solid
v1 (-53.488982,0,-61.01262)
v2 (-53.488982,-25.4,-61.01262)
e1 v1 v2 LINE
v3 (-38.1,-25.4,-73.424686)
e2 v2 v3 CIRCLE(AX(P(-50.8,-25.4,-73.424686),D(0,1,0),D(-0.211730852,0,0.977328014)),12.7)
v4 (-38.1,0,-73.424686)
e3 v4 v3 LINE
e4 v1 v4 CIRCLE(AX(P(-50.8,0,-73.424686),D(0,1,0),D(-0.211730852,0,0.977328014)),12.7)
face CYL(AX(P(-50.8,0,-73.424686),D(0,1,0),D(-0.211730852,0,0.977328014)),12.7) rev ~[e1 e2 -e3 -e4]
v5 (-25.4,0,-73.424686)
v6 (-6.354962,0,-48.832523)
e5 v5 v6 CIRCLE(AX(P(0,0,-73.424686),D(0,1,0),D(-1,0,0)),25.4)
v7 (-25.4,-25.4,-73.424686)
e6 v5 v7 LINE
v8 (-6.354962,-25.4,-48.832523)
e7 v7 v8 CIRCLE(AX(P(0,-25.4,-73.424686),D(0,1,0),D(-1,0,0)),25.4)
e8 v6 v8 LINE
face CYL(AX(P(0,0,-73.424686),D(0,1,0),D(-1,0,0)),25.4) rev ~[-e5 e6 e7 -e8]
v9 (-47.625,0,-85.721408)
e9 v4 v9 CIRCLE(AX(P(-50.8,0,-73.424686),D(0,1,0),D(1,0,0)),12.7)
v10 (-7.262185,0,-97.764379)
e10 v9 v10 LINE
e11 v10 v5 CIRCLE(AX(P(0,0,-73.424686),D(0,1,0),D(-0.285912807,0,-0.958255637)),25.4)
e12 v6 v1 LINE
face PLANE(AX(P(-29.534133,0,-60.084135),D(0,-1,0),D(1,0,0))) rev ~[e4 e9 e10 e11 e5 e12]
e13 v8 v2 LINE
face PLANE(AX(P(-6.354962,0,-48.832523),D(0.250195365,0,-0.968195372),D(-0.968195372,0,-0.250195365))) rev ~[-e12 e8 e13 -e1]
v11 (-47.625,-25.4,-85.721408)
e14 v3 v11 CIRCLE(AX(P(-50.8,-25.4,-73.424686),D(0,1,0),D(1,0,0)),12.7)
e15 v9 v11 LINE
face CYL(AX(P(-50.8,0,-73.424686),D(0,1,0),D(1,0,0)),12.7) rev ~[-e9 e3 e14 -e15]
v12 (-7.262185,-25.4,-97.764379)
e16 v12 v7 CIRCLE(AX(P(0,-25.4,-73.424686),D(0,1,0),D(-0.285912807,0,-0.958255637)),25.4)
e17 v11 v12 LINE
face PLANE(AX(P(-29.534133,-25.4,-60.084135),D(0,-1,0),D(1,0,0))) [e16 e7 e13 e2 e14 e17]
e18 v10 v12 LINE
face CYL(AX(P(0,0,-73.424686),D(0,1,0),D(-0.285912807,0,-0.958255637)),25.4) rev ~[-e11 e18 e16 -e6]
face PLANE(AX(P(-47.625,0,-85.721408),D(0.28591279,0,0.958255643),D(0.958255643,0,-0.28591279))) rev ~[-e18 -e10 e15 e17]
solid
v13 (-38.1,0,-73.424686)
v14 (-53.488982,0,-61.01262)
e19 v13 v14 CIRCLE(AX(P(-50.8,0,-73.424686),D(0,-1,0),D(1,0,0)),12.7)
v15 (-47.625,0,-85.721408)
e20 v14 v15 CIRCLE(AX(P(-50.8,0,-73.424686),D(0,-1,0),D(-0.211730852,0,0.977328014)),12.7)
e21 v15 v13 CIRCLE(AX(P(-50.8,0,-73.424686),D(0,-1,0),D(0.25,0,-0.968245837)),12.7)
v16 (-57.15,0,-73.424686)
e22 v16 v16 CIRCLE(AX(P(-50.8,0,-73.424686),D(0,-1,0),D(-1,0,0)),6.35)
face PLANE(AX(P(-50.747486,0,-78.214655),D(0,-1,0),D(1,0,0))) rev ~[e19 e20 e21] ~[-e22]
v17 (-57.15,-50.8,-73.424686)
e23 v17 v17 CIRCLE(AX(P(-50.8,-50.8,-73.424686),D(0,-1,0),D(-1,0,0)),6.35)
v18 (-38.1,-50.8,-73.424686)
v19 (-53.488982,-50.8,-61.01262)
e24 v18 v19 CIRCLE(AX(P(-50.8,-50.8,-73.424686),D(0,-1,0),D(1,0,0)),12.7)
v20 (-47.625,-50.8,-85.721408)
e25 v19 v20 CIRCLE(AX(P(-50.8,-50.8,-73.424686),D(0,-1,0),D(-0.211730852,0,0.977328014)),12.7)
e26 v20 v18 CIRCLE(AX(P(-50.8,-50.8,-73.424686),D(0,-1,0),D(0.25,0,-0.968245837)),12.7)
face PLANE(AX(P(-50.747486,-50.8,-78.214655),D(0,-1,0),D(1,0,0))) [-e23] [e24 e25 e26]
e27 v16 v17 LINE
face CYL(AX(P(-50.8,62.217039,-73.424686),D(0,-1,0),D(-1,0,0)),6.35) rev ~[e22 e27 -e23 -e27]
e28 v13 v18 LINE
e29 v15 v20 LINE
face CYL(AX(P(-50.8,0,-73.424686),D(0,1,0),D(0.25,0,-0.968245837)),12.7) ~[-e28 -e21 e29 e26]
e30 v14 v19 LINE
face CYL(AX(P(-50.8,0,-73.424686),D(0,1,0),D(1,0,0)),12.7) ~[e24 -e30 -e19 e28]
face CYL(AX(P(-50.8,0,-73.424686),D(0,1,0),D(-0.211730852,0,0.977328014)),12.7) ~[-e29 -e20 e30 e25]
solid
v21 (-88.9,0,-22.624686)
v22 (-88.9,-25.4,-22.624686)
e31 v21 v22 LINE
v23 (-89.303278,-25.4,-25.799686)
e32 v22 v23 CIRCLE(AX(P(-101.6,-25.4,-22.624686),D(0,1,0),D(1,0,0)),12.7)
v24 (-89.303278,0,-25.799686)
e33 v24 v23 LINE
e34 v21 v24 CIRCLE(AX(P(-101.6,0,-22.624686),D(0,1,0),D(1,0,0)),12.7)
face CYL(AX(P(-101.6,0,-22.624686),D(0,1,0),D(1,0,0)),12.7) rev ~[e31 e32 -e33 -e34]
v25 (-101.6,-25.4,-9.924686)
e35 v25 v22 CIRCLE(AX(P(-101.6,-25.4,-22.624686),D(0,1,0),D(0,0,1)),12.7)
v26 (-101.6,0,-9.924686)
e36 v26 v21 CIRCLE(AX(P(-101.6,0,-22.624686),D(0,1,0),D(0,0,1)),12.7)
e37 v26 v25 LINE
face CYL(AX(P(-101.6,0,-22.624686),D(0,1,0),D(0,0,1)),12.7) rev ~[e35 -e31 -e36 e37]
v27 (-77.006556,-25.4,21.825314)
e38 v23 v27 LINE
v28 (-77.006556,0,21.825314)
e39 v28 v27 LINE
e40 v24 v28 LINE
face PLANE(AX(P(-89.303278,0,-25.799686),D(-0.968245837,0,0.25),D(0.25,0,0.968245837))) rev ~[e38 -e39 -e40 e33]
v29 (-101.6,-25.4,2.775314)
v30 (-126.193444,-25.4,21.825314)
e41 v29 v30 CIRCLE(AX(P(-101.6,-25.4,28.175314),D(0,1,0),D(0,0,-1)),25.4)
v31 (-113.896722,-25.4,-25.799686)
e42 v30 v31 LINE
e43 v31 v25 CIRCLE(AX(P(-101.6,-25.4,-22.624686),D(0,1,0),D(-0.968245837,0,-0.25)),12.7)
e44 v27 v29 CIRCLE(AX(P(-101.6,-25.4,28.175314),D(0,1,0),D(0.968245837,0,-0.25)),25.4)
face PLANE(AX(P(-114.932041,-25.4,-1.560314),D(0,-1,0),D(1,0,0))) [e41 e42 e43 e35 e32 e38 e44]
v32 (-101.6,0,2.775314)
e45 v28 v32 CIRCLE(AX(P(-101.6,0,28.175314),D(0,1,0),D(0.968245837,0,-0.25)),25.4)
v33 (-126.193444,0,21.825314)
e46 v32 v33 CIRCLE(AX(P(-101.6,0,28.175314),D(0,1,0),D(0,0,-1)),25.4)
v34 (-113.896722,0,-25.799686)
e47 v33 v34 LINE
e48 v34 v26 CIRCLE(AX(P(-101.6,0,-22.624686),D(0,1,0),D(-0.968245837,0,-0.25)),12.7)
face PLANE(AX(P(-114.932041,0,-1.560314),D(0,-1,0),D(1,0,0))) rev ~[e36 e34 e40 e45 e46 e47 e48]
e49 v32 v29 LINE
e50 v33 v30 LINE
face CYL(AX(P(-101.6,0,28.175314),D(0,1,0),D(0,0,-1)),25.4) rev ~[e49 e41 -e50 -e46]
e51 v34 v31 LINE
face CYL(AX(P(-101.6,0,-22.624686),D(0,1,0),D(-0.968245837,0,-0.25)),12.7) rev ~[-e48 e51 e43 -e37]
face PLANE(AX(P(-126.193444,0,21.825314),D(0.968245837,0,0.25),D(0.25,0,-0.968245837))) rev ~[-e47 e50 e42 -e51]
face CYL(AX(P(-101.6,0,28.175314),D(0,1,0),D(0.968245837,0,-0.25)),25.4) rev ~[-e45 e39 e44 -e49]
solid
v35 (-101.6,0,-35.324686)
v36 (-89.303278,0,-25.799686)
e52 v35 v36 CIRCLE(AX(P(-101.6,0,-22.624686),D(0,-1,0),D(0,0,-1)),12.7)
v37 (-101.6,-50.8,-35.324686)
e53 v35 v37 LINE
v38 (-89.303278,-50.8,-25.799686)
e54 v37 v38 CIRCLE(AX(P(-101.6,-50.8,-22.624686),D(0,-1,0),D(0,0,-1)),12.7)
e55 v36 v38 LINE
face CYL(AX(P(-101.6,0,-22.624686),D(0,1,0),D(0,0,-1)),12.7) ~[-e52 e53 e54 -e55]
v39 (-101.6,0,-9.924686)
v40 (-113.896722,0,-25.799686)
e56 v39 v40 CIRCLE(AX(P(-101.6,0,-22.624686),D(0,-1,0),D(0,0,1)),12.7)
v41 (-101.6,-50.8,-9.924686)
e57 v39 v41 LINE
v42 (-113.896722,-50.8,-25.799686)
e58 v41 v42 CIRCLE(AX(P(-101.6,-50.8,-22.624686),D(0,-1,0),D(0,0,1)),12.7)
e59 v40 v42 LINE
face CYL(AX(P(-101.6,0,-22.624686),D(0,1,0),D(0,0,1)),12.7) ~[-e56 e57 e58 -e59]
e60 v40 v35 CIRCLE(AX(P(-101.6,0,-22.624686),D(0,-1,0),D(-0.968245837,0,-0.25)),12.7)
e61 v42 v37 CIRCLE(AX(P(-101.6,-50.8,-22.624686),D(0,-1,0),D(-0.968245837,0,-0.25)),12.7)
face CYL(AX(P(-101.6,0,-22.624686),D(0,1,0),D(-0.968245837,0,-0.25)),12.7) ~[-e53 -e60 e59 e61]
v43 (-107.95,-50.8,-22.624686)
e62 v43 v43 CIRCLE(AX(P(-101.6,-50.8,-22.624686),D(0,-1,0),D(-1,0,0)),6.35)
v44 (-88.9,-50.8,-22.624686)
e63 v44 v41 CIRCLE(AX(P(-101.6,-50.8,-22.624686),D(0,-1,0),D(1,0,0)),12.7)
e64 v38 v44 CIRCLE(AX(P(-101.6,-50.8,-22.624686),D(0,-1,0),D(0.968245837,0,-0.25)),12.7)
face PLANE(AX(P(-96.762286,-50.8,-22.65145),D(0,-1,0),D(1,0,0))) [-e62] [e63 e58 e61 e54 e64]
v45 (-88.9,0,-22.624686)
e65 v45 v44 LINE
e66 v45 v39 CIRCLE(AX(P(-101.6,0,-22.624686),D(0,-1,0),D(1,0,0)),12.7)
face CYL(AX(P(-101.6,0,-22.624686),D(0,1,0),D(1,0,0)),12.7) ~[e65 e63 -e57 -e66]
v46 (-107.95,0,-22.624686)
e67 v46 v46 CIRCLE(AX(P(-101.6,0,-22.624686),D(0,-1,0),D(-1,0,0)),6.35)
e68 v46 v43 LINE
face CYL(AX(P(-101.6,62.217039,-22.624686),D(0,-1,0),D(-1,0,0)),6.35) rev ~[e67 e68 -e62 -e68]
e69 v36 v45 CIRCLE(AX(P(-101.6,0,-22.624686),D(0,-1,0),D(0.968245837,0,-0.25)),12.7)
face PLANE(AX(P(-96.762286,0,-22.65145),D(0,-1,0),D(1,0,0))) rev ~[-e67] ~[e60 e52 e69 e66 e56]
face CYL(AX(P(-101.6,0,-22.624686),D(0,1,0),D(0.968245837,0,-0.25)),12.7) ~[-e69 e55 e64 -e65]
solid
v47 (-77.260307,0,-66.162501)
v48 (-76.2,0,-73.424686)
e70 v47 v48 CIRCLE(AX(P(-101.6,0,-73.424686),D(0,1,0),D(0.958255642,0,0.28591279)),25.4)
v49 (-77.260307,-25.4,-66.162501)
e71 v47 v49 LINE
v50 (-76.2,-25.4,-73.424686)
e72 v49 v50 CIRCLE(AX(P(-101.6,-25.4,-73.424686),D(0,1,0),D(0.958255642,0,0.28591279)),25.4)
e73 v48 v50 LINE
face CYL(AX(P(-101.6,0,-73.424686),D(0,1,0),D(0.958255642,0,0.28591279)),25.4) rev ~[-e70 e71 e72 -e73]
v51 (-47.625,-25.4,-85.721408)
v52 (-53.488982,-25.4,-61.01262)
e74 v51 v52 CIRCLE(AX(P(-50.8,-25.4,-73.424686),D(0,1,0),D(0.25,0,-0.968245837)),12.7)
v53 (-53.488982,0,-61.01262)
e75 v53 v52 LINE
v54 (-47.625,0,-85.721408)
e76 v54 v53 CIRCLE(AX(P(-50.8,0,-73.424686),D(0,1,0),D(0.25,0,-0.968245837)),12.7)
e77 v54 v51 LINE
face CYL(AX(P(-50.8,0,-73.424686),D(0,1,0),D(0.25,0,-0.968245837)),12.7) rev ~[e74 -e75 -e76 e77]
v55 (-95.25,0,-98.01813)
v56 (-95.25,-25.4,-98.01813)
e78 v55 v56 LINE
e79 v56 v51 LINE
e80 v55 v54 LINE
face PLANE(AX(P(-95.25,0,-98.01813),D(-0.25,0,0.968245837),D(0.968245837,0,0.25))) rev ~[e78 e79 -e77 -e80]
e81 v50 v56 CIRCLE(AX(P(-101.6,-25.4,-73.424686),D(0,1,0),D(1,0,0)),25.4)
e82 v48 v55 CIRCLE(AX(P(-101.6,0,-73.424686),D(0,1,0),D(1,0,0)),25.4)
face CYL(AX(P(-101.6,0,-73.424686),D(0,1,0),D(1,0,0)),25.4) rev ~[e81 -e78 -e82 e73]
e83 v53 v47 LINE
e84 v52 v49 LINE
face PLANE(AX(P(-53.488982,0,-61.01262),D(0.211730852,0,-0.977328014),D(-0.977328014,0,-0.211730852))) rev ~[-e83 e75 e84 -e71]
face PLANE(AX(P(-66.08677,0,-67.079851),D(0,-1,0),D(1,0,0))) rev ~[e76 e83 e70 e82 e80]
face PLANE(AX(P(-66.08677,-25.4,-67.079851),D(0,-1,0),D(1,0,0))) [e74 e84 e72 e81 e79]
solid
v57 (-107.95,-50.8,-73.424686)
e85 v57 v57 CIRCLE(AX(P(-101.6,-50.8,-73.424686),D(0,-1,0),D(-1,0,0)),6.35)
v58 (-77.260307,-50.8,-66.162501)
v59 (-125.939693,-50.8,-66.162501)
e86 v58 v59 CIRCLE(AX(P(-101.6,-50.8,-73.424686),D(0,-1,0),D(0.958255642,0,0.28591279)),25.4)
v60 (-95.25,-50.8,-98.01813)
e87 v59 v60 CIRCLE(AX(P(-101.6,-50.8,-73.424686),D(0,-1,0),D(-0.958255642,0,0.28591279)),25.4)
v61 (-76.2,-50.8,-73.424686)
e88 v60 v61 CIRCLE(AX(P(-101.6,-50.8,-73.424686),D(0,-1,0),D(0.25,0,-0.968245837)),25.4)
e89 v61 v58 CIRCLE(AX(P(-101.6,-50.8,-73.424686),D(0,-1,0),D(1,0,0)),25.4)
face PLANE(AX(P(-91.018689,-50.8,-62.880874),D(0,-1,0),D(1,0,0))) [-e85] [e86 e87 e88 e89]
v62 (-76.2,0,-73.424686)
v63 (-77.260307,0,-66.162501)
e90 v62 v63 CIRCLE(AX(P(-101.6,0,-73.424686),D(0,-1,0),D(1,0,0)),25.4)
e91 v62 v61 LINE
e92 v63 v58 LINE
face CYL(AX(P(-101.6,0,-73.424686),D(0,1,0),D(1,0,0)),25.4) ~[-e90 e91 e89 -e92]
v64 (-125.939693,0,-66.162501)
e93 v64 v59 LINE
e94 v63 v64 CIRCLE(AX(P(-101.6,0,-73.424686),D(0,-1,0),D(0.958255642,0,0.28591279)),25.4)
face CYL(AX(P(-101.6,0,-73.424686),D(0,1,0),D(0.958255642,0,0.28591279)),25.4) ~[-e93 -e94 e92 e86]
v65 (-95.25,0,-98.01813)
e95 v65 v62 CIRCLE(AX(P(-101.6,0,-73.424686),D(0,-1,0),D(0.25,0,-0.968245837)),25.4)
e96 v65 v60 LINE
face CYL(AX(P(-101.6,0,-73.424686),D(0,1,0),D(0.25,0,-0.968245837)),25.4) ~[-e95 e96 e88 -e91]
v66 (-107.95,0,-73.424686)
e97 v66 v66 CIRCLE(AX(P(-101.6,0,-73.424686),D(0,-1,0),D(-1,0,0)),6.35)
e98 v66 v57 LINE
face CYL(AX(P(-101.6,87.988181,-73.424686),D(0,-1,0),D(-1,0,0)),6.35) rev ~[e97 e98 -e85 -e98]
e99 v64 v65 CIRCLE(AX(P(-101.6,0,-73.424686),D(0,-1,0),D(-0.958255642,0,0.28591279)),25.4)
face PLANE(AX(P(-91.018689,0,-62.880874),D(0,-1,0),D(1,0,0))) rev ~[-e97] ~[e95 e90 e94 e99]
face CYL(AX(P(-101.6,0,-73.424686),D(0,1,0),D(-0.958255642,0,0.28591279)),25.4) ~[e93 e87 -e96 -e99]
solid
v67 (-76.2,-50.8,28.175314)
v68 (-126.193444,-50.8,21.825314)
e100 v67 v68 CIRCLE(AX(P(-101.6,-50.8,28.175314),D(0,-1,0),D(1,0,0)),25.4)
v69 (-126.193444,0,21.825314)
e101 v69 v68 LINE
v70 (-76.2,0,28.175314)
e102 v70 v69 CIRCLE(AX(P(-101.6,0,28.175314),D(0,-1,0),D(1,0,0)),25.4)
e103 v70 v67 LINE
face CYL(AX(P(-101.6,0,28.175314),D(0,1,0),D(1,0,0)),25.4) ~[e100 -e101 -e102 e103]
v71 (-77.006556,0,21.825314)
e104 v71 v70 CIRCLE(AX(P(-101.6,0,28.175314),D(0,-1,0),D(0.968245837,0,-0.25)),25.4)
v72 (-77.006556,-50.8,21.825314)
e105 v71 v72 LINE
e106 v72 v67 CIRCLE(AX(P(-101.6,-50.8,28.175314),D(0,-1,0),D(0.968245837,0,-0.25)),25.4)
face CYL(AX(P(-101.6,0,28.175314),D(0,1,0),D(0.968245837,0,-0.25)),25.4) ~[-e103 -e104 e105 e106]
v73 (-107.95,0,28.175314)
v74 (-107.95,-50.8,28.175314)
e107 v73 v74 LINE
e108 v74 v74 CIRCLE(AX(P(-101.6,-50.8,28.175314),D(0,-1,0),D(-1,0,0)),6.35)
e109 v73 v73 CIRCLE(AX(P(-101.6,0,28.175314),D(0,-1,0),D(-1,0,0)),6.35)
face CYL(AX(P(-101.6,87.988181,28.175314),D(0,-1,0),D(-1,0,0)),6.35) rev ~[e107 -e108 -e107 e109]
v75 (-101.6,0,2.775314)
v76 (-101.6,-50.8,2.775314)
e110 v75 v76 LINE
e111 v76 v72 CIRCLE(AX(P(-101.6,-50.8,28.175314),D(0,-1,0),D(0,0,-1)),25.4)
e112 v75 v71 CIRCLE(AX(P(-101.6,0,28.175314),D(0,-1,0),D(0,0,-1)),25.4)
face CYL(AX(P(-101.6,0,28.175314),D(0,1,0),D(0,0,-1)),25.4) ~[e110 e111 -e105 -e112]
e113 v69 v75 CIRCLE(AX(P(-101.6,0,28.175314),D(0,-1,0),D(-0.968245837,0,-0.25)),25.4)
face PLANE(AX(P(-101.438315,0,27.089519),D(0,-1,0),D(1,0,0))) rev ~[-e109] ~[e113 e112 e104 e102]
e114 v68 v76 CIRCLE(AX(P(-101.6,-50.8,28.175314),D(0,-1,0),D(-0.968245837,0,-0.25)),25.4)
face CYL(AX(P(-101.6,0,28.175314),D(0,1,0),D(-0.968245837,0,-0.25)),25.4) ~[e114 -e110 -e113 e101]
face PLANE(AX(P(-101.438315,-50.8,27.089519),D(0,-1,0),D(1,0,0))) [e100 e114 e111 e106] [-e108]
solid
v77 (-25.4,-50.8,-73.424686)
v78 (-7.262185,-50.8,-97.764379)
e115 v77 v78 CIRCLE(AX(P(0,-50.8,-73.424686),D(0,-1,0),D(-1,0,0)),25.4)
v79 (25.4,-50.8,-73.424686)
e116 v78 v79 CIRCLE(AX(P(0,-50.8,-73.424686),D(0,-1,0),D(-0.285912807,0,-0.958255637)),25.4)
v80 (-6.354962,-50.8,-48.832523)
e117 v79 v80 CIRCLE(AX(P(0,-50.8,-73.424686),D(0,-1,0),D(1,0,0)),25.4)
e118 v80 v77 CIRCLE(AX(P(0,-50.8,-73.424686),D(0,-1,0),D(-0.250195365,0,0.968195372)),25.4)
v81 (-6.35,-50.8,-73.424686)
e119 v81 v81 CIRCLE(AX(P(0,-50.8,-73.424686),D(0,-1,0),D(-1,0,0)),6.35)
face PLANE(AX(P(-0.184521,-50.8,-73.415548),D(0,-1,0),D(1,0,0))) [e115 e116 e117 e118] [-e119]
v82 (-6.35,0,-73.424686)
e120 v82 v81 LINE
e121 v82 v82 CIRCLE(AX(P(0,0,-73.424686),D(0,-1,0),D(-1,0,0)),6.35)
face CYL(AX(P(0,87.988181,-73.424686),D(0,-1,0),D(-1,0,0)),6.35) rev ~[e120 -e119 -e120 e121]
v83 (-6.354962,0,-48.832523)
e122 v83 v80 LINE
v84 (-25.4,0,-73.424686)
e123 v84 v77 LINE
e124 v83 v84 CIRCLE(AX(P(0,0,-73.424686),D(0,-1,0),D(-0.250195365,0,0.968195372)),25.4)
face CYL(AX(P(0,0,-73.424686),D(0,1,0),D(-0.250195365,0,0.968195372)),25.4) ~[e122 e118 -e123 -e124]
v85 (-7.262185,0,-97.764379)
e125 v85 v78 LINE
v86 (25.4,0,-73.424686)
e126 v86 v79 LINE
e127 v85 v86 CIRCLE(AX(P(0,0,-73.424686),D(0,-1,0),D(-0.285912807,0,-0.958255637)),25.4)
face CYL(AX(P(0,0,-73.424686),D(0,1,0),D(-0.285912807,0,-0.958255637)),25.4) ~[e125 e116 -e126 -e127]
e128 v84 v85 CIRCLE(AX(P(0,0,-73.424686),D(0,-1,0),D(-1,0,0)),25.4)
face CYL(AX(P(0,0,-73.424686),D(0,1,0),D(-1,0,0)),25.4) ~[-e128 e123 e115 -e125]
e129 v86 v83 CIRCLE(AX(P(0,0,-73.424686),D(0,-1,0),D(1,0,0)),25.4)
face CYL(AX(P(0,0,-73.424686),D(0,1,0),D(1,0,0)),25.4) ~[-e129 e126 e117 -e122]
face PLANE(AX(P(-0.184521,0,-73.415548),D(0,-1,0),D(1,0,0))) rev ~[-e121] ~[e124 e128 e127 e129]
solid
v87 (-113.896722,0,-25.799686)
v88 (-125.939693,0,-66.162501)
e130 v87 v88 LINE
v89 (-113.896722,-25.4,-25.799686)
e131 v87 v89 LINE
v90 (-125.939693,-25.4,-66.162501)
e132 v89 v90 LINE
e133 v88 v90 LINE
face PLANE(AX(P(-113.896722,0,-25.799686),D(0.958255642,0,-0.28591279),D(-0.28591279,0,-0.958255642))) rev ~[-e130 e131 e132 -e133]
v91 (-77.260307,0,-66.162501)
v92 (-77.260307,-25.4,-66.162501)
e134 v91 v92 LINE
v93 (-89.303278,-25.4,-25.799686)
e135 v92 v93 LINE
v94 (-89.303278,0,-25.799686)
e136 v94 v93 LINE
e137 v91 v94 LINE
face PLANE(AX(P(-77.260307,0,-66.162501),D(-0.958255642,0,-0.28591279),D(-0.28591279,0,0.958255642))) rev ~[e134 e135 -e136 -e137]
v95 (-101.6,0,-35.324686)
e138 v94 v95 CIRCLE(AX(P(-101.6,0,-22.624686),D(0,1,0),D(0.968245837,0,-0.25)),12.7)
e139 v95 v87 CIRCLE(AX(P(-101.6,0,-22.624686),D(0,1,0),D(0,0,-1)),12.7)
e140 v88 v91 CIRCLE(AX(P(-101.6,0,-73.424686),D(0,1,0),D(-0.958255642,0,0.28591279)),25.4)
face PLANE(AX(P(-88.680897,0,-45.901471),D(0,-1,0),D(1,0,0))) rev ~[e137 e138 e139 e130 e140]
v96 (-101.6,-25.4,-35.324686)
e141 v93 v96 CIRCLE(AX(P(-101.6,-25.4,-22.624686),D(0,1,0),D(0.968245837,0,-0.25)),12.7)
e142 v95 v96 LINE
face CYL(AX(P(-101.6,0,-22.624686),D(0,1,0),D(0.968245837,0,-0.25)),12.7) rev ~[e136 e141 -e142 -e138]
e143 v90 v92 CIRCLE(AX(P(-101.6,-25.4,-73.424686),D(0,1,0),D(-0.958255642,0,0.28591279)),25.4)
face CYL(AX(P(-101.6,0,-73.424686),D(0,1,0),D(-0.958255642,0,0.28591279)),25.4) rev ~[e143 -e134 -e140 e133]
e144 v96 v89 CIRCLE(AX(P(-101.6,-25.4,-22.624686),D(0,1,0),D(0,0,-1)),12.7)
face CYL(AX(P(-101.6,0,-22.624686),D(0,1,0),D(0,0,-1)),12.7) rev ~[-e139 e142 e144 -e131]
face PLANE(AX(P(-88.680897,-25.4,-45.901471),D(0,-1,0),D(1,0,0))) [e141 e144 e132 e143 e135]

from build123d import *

# Parameters (mm, degrees)
F1_DEPTH = 50.8
F2_DEPTH = 25.4
F3_D     = 12.7
F3_2_D   = 12.7
F3_3_D   = 12.7
F3_4_D   = 12.7
F3_5_D   = 12.7


with BuildPart() as f1:
    # F0 (on Front) → F1 (new body)
    with BuildSketch(Plane.XZ):
        with BuildLine():
            ThreePointArc((-101.6, 2.7753140884), (-86.0457401333, 8.0948509463), (-77.0065557516, 21.8253140884))
            ThreePointArc((-77.0065557516, 21.8253140884), (-76.4024457148, 24.9748050593), (-76.2, 28.1753140884))
            ThreePointArc((-76.2, 28.1753140884), (-104.8005090291, 53.3728683735), (-126.1934442484, 21.8253140884))
            ThreePointArc((-126.1934442484, 21.8253140884), (-117.1542598667, 8.0948509463), (-101.6, 2.7753140884))
        make_face()
    extrude(amount=F1_DEPTH)

    # F3 (through all)
    with Locations(Plane(origin=(0, 0, 0), x_dir=(1, 0, 0), z_dir=(0, 1, 0))):
        with Locations((-101.6, -28.1753140884), (-101.6, 22.6246859116), (-101.6, 73.4246859116), (-50.8, 73.4246859116), (0, 73.4246859116)):
            Hole(F3_D / 2)


with BuildPart() as f1b:
    # F0 (on Front) → F1, piece 2 (new body)
    with BuildSketch(Plane.XZ):
        with BuildLine():
            Line((-101.6, -22.6246859116), (-101.6, -35.3246859116))
            ThreePointArc((-101.6, -35.3246859116), (-93.8228700667, -32.6649174827), (-89.3032778758, -25.7996859116))
            ThreePointArc((-89.3032778758, -25.7996859116), (-89.0012228574, -24.2249404262), (-88.9, -22.6246859116))
            ThreePointArc((-88.9, -22.6246859116), (-92.6197438789, -13.6444297906), (-101.6, -9.9246859116))
            Line((-101.6, -9.9246859116), (-101.6, -22.6246859116))
        make_face()
        with BuildLine():
            ThreePointArc((-113.8967221242, -25.7996859116), (-109.3771299333, -32.6649174827), (-101.6, -35.3246859116))
            Line((-101.6, -35.3246859116), (-101.6, -22.6246859116))
            Line((-101.6, -22.6246859116), (-101.6, -9.9246859116))
            ThreePointArc((-101.6, -9.9246859116), (-111.640231571, -14.8475559783), (-113.8967221242, -25.7996859116))
        make_face()
    extrude(amount=F1_DEPTH)

    # F3#2 (through all)
    with Locations(Plane(origin=(0, 0, 0), x_dir=(1, 0, 0), z_dir=(0, 1, 0))):
        with Locations((-101.6, -28.1753140884), (-101.6, 22.6246859116), (-101.6, 73.4246859116), (-50.8, 73.4246859116), (0, 73.4246859116)):
            Hole(F3_2_D / 2)


with BuildPart() as f1c:
    # F0 (on Front) → F1, piece 3 (new body)
    with BuildSketch(Plane.XZ):
        with BuildLine():
            Line((-101.6, -48.0246859116), (-101.6, -73.4246859116))
            Line((-101.6, -73.4246859116), (-76.2, -73.4246859116))
            ThreePointArc((-76.2, -73.4246859116), (-76.4664744784, -69.7550953548), (-77.2603066815, -66.1625010366))
            ThreePointArc((-77.2603066815, -66.1625010366), (-86.4227060354, -53.0578072133), (-101.6, -48.0246859116))
        make_face()
        with BuildLine():
            Line((-76.2, -73.4246859116), (-101.6, -73.4246859116))
            Line((-101.6, -73.4246859116), (-101.6, -48.0246859116))
            ThreePointArc((-101.6, -48.0246859116), (-116.7772939646, -53.0578072133), (-125.9396933185, -66.1625010366))
            ThreePointArc((-125.9396933185, -66.1625010366), (-119.8921443012, -91.0473263739), (-95.25, -98.0181301601))
            ThreePointArc((-95.25, -98.0181301601), (-81.5195368579, -88.9789457783), (-76.2, -73.4246859116))
        make_face()
    extrude(amount=F1_DEPTH)

    # F3#3 (through all)
    with Locations(Plane(origin=(0, 0, 0), x_dir=(1, 0, 0), z_dir=(0, 1, 0))):
        with Locations((-101.6, -28.1753140884), (-101.6, 22.6246859116), (-101.6, 73.4246859116), (-50.8, 73.4246859116), (0, 73.4246859116)):
            Hole(F3_3_D / 2)


with BuildPart() as f1d:
    # F0 (on Front) → F1, piece 4 (new body)
    with BuildSketch(Plane.XZ):
        with BuildLine():
            Line((-50.8, -73.4246859116), (-63.5, -73.4246859116))
            ThreePointArc((-63.5, -73.4246859116), (-58.5771299333, -83.4649174827), (-47.625, -85.7214080358))
            ThreePointArc((-47.625, -85.7214080358), (-40.759768429, -81.201815845), (-38.1, -73.4246859116))
            Line((-38.1, -73.4246859116), (-50.8, -73.4246859116))
        make_face()
        with BuildLine():
            ThreePointArc((-53.4889818221, -61.0126201383), (-60.6853444336, -65.4516083735), (-63.5, -73.4246859116))
            Line((-63.5, -73.4246859116), (-50.8, -73.4246859116))
            Line((-50.8, -73.4246859116), (-38.1, -73.4246859116))
            ThreePointArc((-38.1, -73.4246859116), (-42.8269224618, -63.5393414781), (-53.4889818221, -61.0126201383))
        make_face()
    extrude(amount=F1_DEPTH)

    # F3#4 (through all)
    with Locations(Plane(origin=(0, 0, 0), x_dir=(1, 0, 0), z_dir=(0, 1, 0))):
        with Locations((-101.6, -28.1753140884), (-101.6, 22.6246859116), (-101.6, 73.4246859116), (-50.8, 73.4246859116), (0, 73.4246859116)):
            Hole(F3_4_D / 2)


with BuildPart() as f1e:
    # F0 (on Front) → F1, piece 5 (new body)
    with BuildSketch(Plane.XZ):
        with BuildLine():
            ThreePointArc((25.3999999825, -73.4246859116), (15.5522338839, -53.3426536357), (-6.3549622702, -48.832523468))
            ThreePointArc((-6.3549622702, -48.832523468), (-20.0820322759, -57.8724520278), (-25.3999999825, -73.4246859116))
            ThreePointArc((-25.3999999825, -73.4246859116), (-20.3668788178, -88.6019796865), (-7.2621852984, -97.7643790856))
            ThreePointArc((-7.2621852984, -97.7643790856), (15.1772937749, -93.7915647295), (25.3999999825, -73.4246859116))
        make_face()
    extrude(amount=F1_DEPTH)

    # F3#5 (through all)
    with Locations(Plane(origin=(0, 0, 0), x_dir=(1, 0, 0), z_dir=(0, 1, 0))):
        with Locations((-101.6, -28.1753140884), (-101.6, 22.6246859116), (-101.6, 73.4246859116), (-50.8, 73.4246859116), (0, 73.4246859116)):
            Hole(F3_5_D / 2)


with BuildPart() as f2:
    # F0 (on Front) → F2 (new body)
    with BuildSketch(Plane.XZ):
        with BuildLine():
            Line((-126.1934442484, 21.8253140884), (-113.8967221242, -25.7996859116))
            ThreePointArc((-113.8967221242, -25.7996859116), (-111.640231571, -14.8475559783), (-101.6, -9.9246859116))
            Line((-101.6, -9.9246859116), (-101.6, 2.7753140884))
            ThreePointArc((-101.6, 2.7753140884), (-117.1542598667, 8.0948509463), (-126.1934442484, 21.8253140884))
        make_face()
        with BuildLine():
            ThreePointArc((-88.9, -22.6246859116), (-89.0012228574, -24.2249404262), (-89.3032778758, -25.7996859116))
            Line((-89.3032778758, -25.7996859116), (-77.0065557516, 21.8253140884))
            ThreePointArc((-77.0065557516, 21.8253140884), (-86.0457401333, 8.0948509463), (-101.6, 2.7753140884))
            Line((-101.6, 2.7753140884), (-101.6, -9.9246859116))
            ThreePointArc((-101.6, -9.9246859116), (-92.6197438789, -13.6444297906), (-88.9, -22.6246859116))
        make_face()
    extrude(amount=F2_DEPTH)


with BuildPart() as f2b:
    # F0 (on Front) → F2, piece 2 (new body)
    with BuildSketch(Plane.XZ):
        with BuildLine():
            Line((-101.6, -35.3246859116), (-101.6, -48.0246859116))
            ThreePointArc((-101.6, -48.0246859116), (-86.4227060354, -53.0578072133), (-77.2603066815, -66.1625010366))
            Line((-77.2603066815, -66.1625010366), (-89.3032778758, -25.7996859116))
            ThreePointArc((-89.3032778758, -25.7996859116), (-93.8228700667, -32.6649174827), (-101.6, -35.3246859116))
        make_face()
        with BuildLine():
            ThreePointArc((-125.9396933185, -66.1625010366), (-116.7772939646, -53.0578072133), (-101.6, -48.0246859116))
            Line((-101.6, -48.0246859116), (-101.6, -35.3246859116))
            ThreePointArc((-101.6, -35.3246859116), (-109.3771299333, -32.6649174827), (-113.8967221242, -25.7996859116))
            Line((-113.8967221242, -25.7996859116), (-125.9396933185, -66.1625010366))
        make_face()
    extrude(amount=F2_DEPTH)


with BuildPart() as f2c:
    # F0 (on Front) → F2, piece 3 (new body)
    with BuildSketch(Plane.XZ):
        with BuildLine():
            ThreePointArc((-77.2603066815, -66.1625010366), (-76.4664744784, -69.7550953548), (-76.2, -73.4246859116))
            Line((-76.2, -73.4246859116), (-63.5, -73.4246859116))
            ThreePointArc((-63.5, -73.4246859116), (-60.6853444336, -65.4516083735), (-53.4889818221, -61.0126201383))
            Line((-53.4889818221, -61.0126201383), (-77.2603066815, -66.1625010366))
        make_face()
        with BuildLine():
            Line((-63.5, -73.4246859116), (-76.2, -73.4246859116))
            ThreePointArc((-76.2, -73.4246859116), (-81.5195368579, -88.9789457783), (-95.25, -98.0181301601))
            Line((-95.25, -98.0181301601), (-47.625, -85.7214080358))
            ThreePointArc((-47.625, -85.7214080358), (-58.5771299333, -83.4649174827), (-63.5, -73.4246859116))
        make_face()
    extrude(amount=F2_DEPTH)


with BuildPart() as f2d:
    # F0 (on Front) → F2, piece 4 (new body)
    with BuildSketch(Plane.XZ):
        with BuildLine():
            Line((-6.3549622702, -48.832523468), (-53.4889818221, -61.0126201383))
            ThreePointArc((-53.4889818221, -61.0126201383), (-42.8269224618, -63.5393414781), (-38.1, -73.4246859116))
            Line((-38.1, -73.4246859116), (-25.3999999825, -73.4246859116))
            ThreePointArc((-25.3999999825, -73.4246859116), (-20.0820322759, -57.8724520278), (-6.3549622702, -48.832523468))
        make_face()
        with BuildLine():
            ThreePointArc((-38.1, -73.4246859116), (-40.759768429, -81.201815845), (-47.625, -85.7214080358))
            Line((-47.625, -85.7214080358), (-7.2621852984, -97.7643790856))
            ThreePointArc((-7.2621852984, -97.7643790856), (-20.3668788178, -88.6019796865), (-25.3999999825, -73.4246859116))
            Line((-25.3999999825, -73.4246859116), (-38.1, -73.4246859116))
        make_face()
    extrude(amount=F2_DEPTH)


solid = Compound([f1.part, f1b.part, f1c.part, f1d.part, f1e.part, f2.part, f2b.part, f2c.part, f2d.part])
